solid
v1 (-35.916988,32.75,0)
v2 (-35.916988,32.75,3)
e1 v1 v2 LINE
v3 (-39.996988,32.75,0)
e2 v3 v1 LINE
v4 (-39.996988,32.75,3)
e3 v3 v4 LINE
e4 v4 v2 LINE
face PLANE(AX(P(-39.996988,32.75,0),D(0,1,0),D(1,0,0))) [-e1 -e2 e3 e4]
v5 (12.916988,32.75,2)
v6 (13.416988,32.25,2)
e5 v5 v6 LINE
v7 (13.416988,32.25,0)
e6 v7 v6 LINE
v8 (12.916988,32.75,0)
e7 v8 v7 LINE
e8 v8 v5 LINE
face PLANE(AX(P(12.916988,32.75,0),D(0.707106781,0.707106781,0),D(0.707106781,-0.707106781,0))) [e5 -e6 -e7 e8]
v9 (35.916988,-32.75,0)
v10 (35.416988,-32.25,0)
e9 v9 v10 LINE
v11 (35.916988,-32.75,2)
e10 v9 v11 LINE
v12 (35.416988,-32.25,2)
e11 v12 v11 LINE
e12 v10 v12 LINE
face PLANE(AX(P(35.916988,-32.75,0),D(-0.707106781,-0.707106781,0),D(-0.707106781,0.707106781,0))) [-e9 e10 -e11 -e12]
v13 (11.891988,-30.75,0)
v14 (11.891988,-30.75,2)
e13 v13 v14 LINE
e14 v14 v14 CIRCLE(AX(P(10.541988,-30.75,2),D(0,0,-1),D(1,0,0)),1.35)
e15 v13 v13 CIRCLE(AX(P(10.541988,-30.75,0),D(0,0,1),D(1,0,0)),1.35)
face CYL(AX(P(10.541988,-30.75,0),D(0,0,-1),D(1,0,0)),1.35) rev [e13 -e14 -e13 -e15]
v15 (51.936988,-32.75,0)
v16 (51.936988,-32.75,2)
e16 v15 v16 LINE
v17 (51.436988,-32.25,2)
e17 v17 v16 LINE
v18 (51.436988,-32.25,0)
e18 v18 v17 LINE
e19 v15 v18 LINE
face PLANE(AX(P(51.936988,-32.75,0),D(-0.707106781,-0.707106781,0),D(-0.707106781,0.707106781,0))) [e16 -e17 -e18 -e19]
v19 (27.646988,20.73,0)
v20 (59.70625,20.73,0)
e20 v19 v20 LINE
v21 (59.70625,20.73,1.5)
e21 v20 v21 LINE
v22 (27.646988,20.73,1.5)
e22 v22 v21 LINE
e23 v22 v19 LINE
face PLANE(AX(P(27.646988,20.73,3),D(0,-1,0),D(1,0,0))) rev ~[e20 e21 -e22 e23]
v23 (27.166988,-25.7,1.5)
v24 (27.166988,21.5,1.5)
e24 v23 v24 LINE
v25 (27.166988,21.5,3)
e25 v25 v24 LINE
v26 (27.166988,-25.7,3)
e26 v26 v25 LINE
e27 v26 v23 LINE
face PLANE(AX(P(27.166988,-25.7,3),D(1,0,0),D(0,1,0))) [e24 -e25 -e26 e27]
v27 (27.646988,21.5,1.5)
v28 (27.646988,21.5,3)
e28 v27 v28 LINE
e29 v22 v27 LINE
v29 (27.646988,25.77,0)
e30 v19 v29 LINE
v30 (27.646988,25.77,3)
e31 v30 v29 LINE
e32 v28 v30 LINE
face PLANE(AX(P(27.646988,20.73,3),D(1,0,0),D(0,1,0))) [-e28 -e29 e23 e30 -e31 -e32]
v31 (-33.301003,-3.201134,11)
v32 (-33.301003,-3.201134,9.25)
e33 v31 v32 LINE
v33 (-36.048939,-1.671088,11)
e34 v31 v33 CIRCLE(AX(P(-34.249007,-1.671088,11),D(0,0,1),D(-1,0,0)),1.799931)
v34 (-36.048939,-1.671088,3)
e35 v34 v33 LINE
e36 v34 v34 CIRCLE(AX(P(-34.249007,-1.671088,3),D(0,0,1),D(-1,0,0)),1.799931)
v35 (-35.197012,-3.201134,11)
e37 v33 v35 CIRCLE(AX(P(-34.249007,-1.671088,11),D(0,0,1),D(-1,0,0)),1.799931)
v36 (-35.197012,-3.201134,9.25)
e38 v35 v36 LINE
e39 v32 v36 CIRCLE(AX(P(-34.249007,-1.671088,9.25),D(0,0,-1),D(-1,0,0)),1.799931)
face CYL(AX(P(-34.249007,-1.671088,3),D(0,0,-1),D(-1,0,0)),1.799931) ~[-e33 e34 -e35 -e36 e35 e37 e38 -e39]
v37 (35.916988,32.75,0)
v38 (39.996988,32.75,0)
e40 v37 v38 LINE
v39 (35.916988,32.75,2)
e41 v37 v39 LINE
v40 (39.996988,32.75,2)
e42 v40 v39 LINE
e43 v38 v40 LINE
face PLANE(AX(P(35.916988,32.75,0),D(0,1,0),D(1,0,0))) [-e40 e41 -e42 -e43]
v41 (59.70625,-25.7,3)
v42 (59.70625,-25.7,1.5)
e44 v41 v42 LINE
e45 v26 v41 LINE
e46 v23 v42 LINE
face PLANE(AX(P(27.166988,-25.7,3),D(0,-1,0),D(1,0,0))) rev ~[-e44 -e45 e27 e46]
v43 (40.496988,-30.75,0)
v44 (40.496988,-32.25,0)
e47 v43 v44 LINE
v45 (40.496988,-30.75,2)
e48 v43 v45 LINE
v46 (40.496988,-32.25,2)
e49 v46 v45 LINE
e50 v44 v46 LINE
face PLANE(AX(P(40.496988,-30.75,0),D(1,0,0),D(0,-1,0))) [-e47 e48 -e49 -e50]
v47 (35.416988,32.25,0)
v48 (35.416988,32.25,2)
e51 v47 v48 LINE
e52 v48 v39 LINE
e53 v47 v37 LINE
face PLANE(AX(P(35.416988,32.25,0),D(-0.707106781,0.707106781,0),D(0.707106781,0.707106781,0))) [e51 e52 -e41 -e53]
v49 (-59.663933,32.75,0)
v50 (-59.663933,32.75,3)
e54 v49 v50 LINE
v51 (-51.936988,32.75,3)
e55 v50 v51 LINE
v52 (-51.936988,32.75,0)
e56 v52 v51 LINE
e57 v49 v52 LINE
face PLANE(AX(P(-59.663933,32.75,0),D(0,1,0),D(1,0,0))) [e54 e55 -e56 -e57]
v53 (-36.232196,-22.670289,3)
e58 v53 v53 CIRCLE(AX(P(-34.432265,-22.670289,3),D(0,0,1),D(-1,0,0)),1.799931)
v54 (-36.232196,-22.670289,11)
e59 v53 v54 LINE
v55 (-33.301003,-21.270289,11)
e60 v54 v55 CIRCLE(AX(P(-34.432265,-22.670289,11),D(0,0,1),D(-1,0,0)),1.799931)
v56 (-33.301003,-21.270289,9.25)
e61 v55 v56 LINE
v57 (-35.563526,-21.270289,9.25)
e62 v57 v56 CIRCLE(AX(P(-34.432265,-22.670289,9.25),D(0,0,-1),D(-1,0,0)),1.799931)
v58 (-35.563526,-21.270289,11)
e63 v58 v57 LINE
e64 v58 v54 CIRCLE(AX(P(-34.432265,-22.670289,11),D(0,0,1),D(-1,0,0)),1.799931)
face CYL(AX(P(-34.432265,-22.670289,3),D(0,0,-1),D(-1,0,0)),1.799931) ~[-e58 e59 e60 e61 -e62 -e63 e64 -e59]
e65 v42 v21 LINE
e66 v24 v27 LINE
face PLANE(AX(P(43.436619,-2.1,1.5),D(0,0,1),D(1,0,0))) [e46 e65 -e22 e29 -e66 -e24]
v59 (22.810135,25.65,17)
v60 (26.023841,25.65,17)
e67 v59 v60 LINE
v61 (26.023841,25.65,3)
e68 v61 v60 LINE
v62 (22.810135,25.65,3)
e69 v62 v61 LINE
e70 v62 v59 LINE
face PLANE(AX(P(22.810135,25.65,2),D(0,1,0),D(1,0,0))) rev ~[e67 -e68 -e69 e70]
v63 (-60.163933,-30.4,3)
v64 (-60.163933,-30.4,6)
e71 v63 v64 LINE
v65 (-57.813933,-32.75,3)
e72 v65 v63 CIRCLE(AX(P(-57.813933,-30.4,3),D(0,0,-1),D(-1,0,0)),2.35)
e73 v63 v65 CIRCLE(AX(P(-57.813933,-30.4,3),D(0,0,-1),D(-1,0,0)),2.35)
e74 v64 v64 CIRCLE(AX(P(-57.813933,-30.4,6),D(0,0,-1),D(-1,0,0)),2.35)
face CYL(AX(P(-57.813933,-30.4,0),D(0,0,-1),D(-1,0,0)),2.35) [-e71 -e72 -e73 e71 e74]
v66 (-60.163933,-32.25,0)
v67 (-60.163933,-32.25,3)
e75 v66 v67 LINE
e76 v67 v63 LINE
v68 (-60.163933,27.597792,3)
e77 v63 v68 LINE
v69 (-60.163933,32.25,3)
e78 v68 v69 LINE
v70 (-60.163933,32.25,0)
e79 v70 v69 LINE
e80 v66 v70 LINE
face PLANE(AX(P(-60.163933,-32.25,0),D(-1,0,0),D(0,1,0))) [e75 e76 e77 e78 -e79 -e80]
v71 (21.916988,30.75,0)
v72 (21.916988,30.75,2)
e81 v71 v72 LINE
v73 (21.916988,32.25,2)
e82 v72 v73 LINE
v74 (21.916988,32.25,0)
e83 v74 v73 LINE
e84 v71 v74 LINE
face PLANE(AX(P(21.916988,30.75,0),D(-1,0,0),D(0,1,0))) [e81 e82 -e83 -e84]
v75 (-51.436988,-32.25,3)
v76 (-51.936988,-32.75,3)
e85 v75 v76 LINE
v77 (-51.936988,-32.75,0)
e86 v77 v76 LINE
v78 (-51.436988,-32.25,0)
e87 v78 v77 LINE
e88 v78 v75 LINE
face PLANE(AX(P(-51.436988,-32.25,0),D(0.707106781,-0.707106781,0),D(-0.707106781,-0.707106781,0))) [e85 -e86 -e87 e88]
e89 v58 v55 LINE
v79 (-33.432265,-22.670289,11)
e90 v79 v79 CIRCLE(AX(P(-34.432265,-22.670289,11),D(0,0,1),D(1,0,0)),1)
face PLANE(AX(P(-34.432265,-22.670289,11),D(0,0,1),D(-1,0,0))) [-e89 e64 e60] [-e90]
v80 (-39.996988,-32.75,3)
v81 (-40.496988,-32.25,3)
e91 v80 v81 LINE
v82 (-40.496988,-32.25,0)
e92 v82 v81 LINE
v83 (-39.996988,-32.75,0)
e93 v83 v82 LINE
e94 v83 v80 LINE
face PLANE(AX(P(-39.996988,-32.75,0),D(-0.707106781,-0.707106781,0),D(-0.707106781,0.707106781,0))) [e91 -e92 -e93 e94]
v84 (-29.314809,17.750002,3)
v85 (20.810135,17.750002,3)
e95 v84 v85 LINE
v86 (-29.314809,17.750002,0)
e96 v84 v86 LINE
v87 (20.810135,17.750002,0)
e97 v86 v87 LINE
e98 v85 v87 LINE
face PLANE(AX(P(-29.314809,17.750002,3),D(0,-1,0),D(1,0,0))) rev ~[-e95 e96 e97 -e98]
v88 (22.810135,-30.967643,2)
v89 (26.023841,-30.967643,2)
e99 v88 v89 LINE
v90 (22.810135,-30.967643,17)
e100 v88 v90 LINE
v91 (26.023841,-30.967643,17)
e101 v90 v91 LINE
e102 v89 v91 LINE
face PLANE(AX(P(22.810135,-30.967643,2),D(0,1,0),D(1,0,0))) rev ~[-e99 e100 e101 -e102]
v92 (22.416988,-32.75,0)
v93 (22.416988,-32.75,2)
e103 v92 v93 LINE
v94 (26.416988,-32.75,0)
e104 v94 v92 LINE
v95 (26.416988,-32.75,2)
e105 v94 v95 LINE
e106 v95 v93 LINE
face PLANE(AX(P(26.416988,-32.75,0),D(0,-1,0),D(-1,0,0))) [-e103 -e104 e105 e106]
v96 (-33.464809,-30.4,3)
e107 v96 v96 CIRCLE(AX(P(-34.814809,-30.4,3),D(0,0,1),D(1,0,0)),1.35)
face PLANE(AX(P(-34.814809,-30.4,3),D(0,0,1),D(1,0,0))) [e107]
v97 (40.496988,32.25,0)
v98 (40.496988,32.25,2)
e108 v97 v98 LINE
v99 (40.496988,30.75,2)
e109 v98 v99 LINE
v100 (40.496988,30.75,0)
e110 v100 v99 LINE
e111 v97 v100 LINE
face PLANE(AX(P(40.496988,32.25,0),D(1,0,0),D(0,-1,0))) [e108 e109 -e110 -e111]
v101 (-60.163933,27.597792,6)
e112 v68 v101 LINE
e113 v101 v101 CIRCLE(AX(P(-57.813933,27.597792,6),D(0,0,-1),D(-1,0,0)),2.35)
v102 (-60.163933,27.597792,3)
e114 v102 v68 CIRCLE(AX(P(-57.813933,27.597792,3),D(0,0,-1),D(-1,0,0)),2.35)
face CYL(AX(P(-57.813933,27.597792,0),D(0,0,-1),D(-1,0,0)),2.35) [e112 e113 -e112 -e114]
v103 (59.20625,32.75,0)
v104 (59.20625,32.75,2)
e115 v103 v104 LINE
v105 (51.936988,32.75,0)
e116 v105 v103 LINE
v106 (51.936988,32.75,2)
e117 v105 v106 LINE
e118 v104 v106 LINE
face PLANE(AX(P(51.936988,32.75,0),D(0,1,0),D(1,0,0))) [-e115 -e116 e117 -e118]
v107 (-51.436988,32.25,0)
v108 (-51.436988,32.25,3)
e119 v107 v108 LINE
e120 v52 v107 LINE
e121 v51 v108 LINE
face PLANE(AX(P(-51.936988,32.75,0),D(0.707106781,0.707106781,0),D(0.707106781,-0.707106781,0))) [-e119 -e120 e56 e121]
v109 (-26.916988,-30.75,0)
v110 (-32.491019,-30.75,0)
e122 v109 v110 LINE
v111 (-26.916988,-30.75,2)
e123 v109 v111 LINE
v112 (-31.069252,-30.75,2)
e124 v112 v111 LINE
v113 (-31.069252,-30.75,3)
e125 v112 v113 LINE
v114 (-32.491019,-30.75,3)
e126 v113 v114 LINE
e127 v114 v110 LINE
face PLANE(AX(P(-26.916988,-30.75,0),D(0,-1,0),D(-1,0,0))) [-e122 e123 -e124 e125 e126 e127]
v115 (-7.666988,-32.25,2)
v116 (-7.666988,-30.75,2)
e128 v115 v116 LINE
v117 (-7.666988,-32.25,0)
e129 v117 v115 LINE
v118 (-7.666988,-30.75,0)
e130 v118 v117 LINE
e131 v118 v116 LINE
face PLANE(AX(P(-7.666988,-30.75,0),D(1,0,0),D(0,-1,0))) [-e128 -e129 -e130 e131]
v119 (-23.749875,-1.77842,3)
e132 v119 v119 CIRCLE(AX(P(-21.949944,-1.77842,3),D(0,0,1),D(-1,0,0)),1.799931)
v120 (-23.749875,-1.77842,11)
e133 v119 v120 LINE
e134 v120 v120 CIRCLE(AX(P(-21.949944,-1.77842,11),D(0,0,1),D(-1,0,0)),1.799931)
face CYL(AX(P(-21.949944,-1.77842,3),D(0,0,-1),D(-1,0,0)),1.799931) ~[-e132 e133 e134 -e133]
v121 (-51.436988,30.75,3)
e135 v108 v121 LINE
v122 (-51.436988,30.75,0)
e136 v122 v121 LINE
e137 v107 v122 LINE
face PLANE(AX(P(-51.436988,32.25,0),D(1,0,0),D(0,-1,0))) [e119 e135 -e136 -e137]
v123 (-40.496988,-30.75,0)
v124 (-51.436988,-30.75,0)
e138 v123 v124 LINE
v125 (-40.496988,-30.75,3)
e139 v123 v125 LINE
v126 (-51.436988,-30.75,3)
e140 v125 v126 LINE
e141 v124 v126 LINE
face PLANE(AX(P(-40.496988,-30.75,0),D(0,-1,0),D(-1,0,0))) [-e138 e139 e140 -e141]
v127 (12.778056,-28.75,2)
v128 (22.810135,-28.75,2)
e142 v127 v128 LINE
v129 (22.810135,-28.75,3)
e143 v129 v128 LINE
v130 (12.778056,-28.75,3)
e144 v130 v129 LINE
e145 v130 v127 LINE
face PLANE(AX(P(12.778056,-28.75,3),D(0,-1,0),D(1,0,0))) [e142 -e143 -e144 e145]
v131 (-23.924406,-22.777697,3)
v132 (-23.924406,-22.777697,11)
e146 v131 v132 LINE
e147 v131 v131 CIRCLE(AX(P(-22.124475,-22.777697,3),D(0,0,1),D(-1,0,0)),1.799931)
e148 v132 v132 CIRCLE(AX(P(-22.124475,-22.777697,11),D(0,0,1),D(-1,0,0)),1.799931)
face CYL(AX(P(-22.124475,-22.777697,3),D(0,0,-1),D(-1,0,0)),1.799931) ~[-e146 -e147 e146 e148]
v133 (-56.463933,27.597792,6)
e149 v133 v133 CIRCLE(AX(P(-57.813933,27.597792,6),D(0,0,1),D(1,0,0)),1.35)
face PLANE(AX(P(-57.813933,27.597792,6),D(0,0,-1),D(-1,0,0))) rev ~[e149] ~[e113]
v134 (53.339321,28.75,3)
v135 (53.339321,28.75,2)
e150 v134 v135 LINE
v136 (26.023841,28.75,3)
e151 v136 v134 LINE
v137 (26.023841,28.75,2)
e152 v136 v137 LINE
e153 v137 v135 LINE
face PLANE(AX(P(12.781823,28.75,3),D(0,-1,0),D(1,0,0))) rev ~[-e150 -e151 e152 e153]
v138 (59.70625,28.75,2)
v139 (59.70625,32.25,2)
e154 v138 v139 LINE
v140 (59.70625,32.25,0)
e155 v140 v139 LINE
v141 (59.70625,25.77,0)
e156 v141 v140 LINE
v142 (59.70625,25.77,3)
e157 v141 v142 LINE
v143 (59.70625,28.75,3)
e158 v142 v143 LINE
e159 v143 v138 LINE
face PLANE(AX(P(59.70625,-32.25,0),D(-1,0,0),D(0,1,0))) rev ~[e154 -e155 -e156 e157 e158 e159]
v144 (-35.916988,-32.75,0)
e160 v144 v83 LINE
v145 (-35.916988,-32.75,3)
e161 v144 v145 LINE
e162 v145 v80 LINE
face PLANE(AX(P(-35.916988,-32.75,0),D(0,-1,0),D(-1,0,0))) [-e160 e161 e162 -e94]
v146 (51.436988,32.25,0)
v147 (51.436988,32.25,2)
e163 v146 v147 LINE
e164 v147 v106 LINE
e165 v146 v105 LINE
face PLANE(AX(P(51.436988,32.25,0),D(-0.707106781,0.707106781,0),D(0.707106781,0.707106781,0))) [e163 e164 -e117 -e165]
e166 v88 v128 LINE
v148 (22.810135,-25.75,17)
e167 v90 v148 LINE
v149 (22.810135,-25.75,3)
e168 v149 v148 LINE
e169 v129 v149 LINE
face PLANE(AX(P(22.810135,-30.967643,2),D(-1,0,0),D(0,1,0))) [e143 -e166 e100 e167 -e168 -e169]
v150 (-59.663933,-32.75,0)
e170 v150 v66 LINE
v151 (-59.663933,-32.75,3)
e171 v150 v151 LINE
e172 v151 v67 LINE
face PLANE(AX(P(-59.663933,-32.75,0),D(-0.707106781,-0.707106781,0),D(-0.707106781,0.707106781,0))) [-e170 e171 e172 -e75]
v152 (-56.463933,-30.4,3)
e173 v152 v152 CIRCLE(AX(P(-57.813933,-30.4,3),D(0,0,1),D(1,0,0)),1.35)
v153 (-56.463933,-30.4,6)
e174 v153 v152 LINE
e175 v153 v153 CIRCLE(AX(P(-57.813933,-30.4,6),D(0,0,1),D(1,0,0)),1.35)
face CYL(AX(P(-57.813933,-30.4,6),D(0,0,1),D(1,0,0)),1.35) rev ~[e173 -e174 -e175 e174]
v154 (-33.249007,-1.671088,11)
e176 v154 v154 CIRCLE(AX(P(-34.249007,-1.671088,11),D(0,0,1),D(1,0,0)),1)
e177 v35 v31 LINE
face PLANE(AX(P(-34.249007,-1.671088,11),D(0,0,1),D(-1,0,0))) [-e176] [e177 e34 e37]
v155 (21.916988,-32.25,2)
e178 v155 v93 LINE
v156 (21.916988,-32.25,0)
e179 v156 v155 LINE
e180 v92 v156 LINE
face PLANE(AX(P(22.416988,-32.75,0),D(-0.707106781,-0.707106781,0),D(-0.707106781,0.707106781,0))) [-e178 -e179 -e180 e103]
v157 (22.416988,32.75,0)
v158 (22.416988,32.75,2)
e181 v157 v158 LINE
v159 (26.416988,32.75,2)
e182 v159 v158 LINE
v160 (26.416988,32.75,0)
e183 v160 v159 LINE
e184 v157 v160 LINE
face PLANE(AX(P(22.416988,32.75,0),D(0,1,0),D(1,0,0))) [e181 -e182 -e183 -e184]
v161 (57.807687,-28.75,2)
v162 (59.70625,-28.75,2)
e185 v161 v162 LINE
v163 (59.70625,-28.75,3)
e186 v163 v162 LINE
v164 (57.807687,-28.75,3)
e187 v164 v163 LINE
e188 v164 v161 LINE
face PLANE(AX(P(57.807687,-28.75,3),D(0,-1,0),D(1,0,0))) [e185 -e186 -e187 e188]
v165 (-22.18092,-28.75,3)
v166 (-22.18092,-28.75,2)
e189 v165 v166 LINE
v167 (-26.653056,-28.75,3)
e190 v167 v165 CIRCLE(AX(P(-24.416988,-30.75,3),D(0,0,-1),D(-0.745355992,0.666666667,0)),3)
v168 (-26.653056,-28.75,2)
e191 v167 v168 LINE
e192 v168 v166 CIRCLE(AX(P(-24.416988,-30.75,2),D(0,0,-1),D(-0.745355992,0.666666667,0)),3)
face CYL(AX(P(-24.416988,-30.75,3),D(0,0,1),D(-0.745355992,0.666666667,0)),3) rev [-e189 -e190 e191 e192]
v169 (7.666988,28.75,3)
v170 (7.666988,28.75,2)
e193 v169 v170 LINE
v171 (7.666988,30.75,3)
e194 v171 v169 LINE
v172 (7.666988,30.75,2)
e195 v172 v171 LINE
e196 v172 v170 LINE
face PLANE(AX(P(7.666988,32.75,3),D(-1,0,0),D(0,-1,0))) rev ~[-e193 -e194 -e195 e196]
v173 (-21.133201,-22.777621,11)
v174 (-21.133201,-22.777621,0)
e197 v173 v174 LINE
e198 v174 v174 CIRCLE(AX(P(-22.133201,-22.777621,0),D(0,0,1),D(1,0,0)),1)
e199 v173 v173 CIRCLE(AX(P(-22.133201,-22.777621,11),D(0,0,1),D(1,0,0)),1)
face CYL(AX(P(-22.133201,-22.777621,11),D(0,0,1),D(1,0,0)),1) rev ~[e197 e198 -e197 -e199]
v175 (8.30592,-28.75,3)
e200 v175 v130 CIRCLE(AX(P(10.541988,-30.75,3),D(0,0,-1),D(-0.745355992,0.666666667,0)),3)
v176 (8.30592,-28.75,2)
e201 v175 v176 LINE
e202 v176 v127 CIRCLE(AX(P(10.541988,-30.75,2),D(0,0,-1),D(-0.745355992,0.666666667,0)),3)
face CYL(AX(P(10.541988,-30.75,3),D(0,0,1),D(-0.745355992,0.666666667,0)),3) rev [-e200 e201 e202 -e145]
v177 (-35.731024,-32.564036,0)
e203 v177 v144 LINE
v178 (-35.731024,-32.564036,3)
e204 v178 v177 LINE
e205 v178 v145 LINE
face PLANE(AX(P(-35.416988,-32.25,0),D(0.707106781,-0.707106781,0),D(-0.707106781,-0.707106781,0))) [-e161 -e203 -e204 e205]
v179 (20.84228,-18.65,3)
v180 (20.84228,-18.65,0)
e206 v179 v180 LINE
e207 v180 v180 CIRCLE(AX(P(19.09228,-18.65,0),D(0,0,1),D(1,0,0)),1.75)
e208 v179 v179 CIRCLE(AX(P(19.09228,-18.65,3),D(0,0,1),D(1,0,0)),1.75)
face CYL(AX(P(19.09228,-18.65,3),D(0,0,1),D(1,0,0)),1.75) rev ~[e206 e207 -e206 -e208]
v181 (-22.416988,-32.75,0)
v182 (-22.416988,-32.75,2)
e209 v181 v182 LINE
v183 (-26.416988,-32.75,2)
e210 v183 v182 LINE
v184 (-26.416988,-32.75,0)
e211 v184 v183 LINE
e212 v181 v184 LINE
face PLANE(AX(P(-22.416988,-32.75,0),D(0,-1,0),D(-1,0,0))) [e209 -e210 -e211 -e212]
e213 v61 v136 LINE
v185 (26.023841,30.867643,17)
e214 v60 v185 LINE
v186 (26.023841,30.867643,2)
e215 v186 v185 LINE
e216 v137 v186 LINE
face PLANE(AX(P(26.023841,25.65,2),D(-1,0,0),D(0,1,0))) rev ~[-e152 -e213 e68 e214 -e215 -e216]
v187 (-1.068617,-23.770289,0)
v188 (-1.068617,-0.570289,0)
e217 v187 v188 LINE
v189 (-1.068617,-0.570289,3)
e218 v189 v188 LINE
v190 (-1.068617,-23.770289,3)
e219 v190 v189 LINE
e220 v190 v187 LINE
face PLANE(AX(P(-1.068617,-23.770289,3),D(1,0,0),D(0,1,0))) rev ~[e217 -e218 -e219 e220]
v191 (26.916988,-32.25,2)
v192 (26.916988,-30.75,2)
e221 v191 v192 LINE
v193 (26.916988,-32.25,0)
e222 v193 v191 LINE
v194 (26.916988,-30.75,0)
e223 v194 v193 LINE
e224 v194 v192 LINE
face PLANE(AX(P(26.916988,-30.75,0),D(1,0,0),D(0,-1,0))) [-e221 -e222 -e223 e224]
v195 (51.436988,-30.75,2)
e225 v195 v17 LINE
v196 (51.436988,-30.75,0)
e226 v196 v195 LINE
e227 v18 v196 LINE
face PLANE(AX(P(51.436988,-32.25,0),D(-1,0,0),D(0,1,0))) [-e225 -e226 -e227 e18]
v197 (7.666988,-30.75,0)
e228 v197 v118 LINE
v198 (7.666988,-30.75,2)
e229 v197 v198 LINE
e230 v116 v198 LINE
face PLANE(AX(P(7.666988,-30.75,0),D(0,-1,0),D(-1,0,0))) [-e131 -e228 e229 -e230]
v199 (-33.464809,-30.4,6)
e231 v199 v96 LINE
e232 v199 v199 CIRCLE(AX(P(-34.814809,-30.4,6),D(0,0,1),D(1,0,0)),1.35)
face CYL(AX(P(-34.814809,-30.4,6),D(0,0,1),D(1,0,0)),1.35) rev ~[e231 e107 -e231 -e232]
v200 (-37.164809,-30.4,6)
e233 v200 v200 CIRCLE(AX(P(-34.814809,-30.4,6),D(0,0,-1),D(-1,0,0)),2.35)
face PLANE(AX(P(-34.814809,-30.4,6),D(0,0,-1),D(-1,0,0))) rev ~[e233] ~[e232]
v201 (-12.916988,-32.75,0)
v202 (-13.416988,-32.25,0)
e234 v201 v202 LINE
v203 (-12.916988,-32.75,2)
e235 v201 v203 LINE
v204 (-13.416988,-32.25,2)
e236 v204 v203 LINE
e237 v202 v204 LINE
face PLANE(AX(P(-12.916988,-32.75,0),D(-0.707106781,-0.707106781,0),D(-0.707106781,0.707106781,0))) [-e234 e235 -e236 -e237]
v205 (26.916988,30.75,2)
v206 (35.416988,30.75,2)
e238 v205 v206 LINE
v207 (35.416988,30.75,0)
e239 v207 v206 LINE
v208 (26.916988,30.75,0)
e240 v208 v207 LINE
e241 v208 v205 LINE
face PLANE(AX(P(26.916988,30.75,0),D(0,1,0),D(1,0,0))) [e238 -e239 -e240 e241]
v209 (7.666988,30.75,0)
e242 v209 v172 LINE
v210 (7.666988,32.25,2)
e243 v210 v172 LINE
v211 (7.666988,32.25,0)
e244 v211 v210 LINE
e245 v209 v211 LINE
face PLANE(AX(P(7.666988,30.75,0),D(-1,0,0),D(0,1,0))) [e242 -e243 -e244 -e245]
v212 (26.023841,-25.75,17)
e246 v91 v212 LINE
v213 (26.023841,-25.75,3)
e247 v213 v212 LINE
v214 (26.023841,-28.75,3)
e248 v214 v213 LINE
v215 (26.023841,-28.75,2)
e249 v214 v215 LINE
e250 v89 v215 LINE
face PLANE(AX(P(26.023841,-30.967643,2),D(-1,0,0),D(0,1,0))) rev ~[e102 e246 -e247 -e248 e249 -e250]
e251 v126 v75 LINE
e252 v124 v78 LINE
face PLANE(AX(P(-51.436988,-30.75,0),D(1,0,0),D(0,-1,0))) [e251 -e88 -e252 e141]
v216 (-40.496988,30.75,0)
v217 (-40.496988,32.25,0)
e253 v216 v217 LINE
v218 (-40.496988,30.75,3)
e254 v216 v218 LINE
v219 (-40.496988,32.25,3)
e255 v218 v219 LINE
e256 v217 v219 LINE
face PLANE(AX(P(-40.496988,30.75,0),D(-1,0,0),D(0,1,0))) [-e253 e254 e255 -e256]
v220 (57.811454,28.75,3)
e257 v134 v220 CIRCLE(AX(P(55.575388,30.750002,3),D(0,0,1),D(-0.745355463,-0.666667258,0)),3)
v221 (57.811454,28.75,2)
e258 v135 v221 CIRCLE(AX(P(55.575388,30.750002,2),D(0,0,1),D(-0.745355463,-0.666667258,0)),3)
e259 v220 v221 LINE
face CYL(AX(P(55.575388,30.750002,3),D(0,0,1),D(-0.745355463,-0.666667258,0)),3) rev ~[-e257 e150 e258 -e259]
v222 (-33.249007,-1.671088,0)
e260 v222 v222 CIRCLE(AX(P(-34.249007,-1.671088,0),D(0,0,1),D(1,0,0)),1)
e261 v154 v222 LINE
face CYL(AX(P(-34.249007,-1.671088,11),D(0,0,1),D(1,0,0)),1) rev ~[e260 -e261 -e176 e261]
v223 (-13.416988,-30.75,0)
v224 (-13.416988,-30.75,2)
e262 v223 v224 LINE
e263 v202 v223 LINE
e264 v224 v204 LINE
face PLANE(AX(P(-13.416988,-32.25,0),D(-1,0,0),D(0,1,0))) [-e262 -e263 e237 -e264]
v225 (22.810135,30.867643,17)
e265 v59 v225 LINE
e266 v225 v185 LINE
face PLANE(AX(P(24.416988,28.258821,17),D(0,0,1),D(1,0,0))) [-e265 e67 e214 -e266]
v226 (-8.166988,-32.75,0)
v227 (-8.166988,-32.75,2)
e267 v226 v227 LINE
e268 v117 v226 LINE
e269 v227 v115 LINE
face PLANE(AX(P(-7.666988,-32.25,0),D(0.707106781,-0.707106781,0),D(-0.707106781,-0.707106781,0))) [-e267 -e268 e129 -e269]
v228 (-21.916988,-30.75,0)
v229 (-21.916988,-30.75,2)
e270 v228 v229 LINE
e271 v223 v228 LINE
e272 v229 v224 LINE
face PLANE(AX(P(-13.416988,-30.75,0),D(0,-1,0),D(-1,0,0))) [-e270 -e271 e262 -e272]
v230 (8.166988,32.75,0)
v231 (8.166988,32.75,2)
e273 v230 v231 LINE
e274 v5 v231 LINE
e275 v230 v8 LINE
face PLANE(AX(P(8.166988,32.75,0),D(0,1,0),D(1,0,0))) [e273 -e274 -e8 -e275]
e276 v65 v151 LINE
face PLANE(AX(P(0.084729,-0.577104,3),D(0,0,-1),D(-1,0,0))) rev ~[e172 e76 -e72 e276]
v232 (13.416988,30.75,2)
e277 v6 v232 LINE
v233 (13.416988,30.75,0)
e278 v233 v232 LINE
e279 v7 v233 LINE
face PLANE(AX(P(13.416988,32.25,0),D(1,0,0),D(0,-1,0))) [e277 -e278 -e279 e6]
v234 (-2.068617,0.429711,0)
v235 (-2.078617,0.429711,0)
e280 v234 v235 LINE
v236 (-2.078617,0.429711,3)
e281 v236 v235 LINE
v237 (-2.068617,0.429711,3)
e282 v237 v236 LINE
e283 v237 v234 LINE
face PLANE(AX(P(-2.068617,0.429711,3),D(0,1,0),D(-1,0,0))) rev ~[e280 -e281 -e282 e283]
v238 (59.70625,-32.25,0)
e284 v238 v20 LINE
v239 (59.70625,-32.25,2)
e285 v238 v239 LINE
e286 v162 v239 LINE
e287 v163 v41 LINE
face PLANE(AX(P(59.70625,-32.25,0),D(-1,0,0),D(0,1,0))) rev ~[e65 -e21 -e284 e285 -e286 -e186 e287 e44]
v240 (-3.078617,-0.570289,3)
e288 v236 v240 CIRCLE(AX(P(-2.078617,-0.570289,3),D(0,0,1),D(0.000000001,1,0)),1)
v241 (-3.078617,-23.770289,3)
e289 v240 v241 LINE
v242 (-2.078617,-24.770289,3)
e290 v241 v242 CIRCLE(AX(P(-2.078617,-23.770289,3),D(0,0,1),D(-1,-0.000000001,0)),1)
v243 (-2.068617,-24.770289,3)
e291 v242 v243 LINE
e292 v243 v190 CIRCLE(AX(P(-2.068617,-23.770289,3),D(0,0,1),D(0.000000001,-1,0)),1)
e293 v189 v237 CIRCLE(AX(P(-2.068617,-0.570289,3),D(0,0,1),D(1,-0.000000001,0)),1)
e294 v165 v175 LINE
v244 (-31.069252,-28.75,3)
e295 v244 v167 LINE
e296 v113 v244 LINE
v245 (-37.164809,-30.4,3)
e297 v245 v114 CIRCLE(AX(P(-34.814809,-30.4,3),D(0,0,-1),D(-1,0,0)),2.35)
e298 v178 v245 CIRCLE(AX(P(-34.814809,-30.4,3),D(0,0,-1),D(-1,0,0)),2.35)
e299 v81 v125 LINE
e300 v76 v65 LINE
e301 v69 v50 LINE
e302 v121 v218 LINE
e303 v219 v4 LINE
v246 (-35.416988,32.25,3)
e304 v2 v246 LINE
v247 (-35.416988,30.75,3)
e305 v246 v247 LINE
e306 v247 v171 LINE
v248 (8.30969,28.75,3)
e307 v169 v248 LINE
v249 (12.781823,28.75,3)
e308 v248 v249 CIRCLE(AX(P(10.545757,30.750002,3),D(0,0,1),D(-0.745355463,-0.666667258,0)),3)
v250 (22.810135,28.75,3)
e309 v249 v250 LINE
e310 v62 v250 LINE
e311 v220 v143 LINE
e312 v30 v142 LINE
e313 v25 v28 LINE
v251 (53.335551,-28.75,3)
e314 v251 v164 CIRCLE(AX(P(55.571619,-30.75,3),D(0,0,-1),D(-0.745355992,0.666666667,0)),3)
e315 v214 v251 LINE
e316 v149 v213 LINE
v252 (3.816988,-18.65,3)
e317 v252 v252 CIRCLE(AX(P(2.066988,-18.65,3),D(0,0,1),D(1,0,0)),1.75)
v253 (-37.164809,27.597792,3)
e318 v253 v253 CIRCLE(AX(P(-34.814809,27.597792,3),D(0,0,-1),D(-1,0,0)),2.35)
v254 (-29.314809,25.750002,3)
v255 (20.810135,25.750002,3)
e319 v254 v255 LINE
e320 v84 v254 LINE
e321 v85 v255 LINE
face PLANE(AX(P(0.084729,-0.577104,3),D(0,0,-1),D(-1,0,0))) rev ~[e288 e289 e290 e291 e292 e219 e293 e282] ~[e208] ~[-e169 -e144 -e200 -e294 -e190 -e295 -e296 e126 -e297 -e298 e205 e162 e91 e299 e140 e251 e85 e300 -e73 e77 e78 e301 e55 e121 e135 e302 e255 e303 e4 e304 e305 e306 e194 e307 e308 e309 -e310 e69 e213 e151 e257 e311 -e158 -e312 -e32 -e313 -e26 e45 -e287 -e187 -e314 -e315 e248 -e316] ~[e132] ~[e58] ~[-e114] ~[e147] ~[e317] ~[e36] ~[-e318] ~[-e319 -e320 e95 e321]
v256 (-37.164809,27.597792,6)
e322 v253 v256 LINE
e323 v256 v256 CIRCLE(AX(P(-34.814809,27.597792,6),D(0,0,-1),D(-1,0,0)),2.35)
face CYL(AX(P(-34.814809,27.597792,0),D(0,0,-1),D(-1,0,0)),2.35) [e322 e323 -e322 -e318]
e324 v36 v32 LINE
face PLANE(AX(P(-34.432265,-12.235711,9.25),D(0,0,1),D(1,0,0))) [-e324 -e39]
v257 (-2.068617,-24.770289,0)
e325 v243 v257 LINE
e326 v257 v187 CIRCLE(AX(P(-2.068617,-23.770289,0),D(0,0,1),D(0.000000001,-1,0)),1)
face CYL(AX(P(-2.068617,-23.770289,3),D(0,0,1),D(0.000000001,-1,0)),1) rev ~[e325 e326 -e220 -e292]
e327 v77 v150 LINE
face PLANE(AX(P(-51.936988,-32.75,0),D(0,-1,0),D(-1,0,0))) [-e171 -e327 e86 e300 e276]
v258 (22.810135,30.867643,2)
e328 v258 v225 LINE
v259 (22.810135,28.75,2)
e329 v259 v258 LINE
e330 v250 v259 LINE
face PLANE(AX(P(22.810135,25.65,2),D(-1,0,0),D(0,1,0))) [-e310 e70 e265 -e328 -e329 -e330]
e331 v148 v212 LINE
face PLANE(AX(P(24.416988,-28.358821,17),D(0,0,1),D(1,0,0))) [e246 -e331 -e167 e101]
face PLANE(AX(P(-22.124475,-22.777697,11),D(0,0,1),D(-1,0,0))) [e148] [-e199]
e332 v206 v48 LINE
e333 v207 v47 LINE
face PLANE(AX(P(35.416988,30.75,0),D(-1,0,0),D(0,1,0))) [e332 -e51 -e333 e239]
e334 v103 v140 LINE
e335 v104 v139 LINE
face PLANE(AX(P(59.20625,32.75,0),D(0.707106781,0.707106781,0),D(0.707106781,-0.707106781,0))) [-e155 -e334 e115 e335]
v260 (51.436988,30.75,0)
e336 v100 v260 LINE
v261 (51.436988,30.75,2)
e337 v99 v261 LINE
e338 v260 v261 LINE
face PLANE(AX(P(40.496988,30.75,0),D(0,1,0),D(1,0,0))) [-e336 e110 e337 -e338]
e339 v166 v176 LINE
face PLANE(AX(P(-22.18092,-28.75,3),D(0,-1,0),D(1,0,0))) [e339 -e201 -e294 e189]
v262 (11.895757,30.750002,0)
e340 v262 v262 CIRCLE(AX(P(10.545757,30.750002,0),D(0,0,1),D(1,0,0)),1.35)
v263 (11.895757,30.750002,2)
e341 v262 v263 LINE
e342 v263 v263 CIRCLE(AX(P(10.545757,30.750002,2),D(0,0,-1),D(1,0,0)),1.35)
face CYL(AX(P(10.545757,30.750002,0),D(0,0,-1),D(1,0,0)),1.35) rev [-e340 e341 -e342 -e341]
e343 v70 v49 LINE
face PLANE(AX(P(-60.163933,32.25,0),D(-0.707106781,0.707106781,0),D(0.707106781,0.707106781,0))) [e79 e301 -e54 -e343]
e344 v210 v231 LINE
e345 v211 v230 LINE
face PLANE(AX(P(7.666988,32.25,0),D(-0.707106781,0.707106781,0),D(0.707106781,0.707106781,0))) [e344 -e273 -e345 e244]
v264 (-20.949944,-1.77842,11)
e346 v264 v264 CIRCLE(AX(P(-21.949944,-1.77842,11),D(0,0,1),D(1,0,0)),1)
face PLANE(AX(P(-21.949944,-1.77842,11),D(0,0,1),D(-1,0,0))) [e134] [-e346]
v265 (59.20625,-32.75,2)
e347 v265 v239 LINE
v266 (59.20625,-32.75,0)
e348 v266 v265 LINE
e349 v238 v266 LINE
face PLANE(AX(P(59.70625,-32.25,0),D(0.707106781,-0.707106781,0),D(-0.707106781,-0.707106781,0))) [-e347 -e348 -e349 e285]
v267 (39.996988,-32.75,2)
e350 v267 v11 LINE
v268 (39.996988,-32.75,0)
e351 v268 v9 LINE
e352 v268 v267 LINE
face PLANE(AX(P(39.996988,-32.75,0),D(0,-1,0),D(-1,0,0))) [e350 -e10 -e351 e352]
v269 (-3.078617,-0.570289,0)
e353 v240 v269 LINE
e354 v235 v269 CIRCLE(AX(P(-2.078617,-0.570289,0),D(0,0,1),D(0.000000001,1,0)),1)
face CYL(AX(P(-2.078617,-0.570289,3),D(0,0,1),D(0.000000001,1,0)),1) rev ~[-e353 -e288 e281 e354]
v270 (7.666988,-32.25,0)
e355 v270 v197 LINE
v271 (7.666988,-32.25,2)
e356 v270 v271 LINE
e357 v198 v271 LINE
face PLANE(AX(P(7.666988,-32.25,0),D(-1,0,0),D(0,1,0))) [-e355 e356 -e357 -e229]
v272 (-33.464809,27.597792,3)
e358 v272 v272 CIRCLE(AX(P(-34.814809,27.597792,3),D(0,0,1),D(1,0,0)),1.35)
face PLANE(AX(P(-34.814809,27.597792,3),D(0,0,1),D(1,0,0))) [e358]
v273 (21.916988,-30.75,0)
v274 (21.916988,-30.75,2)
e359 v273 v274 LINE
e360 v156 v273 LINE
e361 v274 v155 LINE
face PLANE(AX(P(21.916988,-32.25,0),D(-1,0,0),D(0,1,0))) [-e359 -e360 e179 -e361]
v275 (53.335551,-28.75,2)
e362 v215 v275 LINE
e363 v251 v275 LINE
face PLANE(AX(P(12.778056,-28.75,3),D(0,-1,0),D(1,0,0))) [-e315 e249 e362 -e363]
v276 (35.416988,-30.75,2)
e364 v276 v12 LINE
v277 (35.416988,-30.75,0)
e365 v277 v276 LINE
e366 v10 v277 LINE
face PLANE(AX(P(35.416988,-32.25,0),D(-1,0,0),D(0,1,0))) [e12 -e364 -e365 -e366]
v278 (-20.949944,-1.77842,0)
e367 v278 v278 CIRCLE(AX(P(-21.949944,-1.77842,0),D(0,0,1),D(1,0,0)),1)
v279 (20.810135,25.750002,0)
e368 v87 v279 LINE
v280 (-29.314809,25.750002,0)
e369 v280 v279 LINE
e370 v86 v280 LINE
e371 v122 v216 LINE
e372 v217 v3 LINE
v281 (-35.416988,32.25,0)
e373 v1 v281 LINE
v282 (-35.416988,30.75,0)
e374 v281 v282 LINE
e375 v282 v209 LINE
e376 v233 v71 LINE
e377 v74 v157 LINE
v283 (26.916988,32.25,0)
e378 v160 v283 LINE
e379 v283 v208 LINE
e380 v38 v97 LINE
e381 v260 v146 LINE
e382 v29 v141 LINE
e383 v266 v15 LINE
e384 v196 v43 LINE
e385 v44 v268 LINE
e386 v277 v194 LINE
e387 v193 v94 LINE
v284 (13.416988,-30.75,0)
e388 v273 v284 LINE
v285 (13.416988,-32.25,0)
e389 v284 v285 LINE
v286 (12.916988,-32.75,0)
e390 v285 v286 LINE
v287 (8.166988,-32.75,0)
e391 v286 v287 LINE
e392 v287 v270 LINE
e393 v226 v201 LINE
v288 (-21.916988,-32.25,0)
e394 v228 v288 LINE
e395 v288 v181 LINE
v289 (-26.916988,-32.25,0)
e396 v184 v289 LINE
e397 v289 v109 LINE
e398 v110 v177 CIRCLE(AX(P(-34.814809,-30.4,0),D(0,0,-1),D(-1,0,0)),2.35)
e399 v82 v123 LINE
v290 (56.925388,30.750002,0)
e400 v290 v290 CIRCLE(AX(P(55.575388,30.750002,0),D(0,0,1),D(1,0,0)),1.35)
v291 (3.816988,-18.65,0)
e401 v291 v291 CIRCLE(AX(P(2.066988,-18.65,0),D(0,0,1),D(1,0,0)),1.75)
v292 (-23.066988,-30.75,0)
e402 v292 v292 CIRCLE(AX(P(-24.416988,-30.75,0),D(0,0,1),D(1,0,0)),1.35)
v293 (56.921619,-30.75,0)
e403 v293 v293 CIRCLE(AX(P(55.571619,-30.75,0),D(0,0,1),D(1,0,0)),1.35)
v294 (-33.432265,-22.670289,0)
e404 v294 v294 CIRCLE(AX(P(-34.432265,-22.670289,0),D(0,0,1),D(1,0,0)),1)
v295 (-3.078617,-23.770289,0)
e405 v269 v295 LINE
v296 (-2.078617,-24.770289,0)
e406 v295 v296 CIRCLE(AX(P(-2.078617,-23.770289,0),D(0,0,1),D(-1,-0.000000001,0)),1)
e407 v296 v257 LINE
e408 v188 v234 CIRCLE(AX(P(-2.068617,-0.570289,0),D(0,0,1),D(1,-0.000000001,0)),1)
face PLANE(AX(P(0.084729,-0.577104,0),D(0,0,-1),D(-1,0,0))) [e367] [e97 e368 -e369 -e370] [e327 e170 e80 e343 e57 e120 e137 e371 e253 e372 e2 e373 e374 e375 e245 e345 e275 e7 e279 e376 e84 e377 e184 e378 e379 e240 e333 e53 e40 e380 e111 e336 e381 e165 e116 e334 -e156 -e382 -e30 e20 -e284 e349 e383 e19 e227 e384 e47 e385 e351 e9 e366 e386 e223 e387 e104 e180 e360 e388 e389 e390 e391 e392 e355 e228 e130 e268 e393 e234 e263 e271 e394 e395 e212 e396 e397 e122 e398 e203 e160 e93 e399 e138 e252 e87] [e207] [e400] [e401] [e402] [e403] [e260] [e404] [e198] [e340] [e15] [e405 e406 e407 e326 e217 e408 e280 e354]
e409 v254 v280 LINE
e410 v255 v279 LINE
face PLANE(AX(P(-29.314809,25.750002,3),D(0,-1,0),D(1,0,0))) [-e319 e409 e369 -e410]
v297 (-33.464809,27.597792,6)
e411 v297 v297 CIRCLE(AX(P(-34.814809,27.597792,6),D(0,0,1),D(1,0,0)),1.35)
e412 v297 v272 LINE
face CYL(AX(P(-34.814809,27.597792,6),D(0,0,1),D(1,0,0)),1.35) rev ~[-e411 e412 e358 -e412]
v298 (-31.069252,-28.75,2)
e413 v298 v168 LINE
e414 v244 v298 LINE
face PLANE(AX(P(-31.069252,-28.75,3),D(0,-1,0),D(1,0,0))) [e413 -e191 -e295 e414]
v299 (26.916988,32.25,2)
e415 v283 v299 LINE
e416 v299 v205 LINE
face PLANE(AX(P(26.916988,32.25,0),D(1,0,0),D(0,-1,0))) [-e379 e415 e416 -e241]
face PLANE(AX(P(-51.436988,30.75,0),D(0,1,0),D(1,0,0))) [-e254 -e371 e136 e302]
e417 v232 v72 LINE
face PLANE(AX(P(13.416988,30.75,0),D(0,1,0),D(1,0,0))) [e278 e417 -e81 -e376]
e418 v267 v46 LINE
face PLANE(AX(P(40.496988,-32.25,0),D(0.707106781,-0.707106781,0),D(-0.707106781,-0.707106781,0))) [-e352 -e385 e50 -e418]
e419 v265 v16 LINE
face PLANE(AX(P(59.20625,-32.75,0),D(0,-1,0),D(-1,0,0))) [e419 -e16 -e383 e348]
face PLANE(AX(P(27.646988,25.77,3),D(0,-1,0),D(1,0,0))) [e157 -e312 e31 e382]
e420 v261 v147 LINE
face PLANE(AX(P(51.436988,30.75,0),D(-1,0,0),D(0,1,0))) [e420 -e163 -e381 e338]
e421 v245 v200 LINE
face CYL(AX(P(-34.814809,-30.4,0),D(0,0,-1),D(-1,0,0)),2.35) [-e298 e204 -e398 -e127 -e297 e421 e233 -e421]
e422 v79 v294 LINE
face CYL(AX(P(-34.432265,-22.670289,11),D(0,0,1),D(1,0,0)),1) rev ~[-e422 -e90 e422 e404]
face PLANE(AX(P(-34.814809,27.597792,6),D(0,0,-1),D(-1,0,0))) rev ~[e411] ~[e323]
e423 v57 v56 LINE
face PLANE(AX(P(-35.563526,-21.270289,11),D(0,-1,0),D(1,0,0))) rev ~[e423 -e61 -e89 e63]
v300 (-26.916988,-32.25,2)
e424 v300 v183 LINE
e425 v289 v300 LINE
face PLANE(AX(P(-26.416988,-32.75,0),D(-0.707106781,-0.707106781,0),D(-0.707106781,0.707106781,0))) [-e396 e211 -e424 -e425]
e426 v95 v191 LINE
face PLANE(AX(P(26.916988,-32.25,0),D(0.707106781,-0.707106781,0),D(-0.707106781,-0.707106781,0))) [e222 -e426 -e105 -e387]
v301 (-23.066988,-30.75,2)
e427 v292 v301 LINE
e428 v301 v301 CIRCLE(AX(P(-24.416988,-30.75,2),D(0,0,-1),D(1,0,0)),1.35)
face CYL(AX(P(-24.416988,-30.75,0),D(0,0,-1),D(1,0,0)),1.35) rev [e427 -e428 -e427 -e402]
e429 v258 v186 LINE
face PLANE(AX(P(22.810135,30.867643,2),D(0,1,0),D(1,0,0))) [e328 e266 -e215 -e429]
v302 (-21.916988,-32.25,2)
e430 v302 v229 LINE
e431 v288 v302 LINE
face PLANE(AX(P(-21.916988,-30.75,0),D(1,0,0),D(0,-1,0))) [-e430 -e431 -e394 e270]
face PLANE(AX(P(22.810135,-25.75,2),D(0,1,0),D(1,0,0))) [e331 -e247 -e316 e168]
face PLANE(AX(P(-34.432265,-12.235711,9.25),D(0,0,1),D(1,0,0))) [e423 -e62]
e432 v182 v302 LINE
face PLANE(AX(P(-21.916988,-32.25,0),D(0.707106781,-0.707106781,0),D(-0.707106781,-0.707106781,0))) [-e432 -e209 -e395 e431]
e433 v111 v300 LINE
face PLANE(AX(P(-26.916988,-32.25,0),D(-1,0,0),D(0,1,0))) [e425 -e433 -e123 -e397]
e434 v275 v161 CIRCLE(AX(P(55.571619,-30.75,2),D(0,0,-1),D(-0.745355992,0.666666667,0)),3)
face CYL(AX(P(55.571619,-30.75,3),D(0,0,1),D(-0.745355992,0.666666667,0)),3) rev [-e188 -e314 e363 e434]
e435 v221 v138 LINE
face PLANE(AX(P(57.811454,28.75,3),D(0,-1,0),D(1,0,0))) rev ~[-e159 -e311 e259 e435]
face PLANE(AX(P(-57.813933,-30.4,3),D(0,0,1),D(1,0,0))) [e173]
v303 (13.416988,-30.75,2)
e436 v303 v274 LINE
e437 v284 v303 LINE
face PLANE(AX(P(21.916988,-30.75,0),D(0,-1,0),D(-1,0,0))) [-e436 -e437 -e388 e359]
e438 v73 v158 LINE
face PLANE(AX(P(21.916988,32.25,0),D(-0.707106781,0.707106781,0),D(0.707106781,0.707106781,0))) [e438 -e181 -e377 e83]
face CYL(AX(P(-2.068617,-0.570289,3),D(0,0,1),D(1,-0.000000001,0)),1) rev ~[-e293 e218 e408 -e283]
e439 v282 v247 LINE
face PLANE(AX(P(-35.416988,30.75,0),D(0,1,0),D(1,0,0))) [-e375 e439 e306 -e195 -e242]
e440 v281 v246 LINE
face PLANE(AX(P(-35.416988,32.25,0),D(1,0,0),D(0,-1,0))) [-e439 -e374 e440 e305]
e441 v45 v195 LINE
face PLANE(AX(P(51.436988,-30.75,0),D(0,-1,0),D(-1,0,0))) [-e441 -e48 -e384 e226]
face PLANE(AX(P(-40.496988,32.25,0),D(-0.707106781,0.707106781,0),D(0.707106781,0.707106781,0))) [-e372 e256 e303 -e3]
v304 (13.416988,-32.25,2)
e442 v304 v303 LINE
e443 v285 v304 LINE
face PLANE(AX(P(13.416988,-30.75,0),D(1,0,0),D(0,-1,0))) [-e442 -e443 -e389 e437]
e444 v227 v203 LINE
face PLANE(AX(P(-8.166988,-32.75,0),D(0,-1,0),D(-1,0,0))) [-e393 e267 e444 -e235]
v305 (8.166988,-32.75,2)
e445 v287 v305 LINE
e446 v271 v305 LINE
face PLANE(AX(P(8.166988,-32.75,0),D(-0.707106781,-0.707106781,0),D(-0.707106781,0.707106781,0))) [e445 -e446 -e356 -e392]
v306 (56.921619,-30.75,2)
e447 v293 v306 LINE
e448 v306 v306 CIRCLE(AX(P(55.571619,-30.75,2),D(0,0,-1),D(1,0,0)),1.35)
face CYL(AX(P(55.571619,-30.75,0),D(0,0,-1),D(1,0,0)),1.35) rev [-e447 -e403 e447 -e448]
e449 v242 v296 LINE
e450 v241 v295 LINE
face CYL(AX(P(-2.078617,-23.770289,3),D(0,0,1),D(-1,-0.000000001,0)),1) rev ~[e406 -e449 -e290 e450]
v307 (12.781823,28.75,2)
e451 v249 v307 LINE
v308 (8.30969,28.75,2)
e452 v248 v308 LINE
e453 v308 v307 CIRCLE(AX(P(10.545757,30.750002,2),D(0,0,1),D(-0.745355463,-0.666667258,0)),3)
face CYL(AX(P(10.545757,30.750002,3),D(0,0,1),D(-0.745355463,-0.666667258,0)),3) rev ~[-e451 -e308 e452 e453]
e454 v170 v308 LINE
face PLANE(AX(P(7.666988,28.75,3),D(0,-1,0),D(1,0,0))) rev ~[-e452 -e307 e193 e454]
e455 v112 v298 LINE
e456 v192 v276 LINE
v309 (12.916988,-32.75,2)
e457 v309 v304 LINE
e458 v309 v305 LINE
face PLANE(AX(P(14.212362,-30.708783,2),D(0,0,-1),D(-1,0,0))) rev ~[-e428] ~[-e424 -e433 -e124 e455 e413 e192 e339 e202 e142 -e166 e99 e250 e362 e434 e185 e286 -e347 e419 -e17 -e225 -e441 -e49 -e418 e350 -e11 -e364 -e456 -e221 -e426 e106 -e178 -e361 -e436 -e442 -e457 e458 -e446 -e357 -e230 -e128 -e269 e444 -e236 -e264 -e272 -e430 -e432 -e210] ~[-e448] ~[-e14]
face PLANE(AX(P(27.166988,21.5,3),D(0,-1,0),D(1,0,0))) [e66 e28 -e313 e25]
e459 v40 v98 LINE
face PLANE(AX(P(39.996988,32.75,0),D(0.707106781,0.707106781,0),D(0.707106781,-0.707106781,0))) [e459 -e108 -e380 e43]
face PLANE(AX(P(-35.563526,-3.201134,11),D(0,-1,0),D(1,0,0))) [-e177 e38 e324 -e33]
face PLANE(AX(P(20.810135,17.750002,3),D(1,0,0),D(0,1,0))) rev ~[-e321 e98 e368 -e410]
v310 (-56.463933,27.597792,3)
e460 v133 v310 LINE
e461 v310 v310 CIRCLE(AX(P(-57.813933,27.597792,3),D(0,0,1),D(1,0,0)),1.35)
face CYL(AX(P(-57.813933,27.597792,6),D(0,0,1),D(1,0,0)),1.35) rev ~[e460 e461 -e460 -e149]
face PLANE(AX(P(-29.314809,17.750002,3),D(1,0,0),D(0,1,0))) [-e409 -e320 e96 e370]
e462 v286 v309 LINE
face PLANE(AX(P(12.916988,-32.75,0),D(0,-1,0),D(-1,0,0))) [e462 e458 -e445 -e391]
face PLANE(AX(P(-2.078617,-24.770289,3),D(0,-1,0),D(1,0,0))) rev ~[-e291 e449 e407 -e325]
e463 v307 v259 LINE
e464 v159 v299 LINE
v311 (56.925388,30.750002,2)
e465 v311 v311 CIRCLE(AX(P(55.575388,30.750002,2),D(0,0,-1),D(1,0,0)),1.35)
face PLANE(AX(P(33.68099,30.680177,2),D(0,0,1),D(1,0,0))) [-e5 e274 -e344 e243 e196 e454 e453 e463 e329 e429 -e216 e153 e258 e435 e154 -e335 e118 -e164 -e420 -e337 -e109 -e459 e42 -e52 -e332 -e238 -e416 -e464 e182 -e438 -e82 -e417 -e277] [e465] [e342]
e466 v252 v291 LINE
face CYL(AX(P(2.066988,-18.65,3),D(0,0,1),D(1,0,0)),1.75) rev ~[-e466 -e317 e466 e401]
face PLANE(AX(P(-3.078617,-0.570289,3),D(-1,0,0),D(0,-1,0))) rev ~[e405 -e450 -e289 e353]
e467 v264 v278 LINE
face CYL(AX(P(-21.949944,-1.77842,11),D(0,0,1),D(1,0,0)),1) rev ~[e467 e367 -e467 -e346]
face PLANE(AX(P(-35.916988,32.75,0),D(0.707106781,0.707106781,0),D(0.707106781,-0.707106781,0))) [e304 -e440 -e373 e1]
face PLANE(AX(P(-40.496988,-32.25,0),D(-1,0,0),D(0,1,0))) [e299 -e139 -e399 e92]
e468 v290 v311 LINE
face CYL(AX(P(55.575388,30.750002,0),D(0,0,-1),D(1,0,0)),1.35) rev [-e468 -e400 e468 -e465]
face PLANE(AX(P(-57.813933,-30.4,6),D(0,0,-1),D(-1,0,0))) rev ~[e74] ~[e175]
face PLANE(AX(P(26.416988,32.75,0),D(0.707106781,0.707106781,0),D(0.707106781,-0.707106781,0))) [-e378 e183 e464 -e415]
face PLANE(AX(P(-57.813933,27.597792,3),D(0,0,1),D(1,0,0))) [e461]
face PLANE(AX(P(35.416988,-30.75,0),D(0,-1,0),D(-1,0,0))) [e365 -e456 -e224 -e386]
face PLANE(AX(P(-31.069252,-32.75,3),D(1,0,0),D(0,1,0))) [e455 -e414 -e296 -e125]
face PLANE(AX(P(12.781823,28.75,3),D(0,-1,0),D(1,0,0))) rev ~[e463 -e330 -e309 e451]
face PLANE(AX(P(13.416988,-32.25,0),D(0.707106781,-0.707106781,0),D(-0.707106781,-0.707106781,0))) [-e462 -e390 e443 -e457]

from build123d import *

# Parameters (mm, degrees)
SKETCH1_R           = 1.35
BOSS_EXTRUDE1_DEPTH = 3
SKETCH2_W           = 32.539262004
SKETCH2_H           = 47.2
CUT_EXTRUDE1_DEPTH  = 1.5
CUT_EXTRUDE2_DEPTH  = 1
SKETCH4_W           = 39.18
SKETCH4_H           = 5.04
CUT_EXTRUDE3_DEPTH  = 3
BOSS_EXTRUDE3_START = -1
SKETCH5_W           = 3.213705867
SKETCH5_H           = 5.217642876
BOSS_EXTRUDE3_DEPTH = 15
SKETCH6_R           = 2.35
BOSS_EXTRUDE4_DEPTH = 6
SKETCH7_R           = 1.35
CUT_EXTRUDE4_DEPTH  = 3
SKETCH8_R           = 1.799931462
BOSS_EXTRUDE5_DEPTH = 8
SKETCH9_R           = 1
CUT_EXTRUDE5_DEPTH  = 11
CUT_EXTRUDE6_DEPTH  = 3
SKETCH11_W          = 50.12494376
SKETCH11_H          = 8
CUT_EXTRUDE7_DEPTH  = 3
SKETCH12_W          = 2.262523605
SKETCH12_H          = 18.069154429
CUT_EXTRUDE8_DEPTH  = 1.75
SKETCH13_R          = 1.75
CUT_EXTRUDE9_DEPTH  = 3


with BuildPart() as part:
    # Sketch1 → Boss-Extrude1 (new body)
    with BuildSketch(Plane.XY):
        Polygon((59.70625, -28.75), (59.70625, -32.25), (59.20625, -32.75), (51.936987996, -32.75), (51.436987996, -32.25), (51.436987996, -30.75), (40.496987996, -30.75), (40.496987996, -32.25), (39.996987996, -32.75), (35.916987996, -32.75), (35.416987996, -32.25), (35.416987996, -30.75), (26.916987996, -30.75), (26.916987996, -32.25), (26.416987996, -32.75), (22.416987996, -32.75), (21.916987996, -32.25), (21.916987996, -30.75), (13.416987996, -30.75), (13.416987996, -32.25), (12.916987996, -32.75), (8.166987996, -32.75), (7.666987996, -32.25), (7.666987996, -30.75), (-7.666987996, -30.75), (-7.666987996, -32.25), (-8.166987996, -32.75), (-12.916987996, -32.75), (-13.416987996, -32.25), (-13.416987996, -30.75), (-21.916987996, -30.75), (-21.916987996, -32.25), (-22.416987996, -32.75), (-26.416987996, -32.75), (-26.916987996, -32.25), (-26.916987996, -30.75), (-35.416987996, -30.75), (-35.416987996, -32.25), (-35.916987996, -32.75), (-39.996987996, -32.75), (-40.496987996, -32.25), (-40.496987996, -30.75), (-51.436987996, -30.75), (-51.436987996, -32.25), (-51.936987996, -32.75), (-59.663932929, -32.75), (-60.163932929, -32.25), (-60.163932929, 32.25), (-59.663932929, 32.75), (-51.936987996, 32.75), (-51.436987996, 32.25), (-51.436987996, 30.75), (-40.496987996, 30.75), (-40.496987996, 32.25), (-39.996987996, 32.75), (-35.916987996, 32.75), (-35.416987996, 32.25), (-35.416987996, 30.75), (7.666987996, 30.75), (7.666987996, 32.25), (8.166987996, 32.75), (12.916987996, 32.75), (13.416987996, 32.25), (13.416987996, 30.75), (21.916987996, 30.75), (21.916987996, 32.25), (22.416987996, 32.75), (26.416987996, 32.75), (26.916987996, 32.25), (26.916987996, 30.75), (35.416987996, 30.75), (35.416987996, 32.25), (35.916987996, 32.75), (39.996987996, 32.75), (40.496987996, 32.25), (40.496987996, 30.75), (51.436987996, 30.75), (51.436987996, 32.25), (51.936987996, 32.75), (59.20625, 32.75), (59.70625, 32.25), (59.70625, 28.75), align=None)
        with Locations((10.545756529, 30.750001775)):
            Circle(SKETCH1_R, mode=Mode.SUBTRACT)
        with Locations((55.575387531, 30.750001775)):
            Circle(SKETCH1_R, mode=Mode.SUBTRACT)
        with Locations((55.571618998, -30.75)):
            Circle(SKETCH1_R, mode=Mode.SUBTRACT)
        with Locations((10.541987996, -30.75)):
            Circle(SKETCH1_R, mode=Mode.SUBTRACT)
        with Locations((-24.416987996, -30.75)):
            Circle(SKETCH1_R, mode=Mode.SUBTRACT)
    extrude(amount=BOSS_EXTRUDE1_DEPTH)

    # Sketch2 → Cut-Extrude1 (cut)
    with BuildSketch(Plane.XY.offset(3)):
        with Locations((43.436618998, -2.1)):
            Rectangle(SKETCH2_W, SKETCH2_H)
    extrude(amount=-CUT_EXTRUDE1_DEPTH, mode=Mode.SUBTRACT)

    # Sketch3 → Cut-Extrude2 (cut)
    with BuildSketch(Plane.XY.offset(3)):
        with BuildLine():
            Line((7.666987996, 28.75), (8.309690139, 28.75))
            ThreePointArc((8.309690139, 28.75), (10.545756529, 27.750001775), (12.781822919, 28.75))
            Line((12.781822919, 28.75), (53.339321141, 28.75))
            ThreePointArc((53.339321141, 28.75), (55.575387531, 27.750001775), (57.811453921, 28.75))
            Line((57.811453921, 28.75), (59.70625, 28.75))
            Line((59.70625, 28.75), (59.70625, 32.75))
            Line((59.70625, 32.75), (7.666987996, 32.75))
            Line((7.666987996, 32.75), (7.666987996, 28.75))
        make_face()
        with BuildLine():
            Line((-31.069252348, -28.75), (-26.653055973, -28.75))
            ThreePointArc((-26.653055973, -28.75), (-24.416987996, -27.75), (-22.180920018, -28.75))
            Line((-22.180920018, -28.75), (8.305920018, -28.75))
            ThreePointArc((8.305920018, -28.75), (10.541987996, -27.75), (12.778055973, -28.75))
            Line((12.778055973, -28.75), (53.33555102, -28.75))
            ThreePointArc((53.33555102, -28.75), (55.571618998, -27.75), (57.807686975, -28.75))
            Line((57.807686975, -28.75), (59.70625, -28.75))
            Line((59.70625, -28.75), (59.70625, -32.75))
            Line((59.70625, -32.75), (-22.180920018, -32.75))
            ThreePointArc((-22.180920018, -32.75), (-24.416987996, -33.75), (-26.653055973, -32.75))
            Line((-26.653055973, -32.75), (-31.069252348, -32.75))
            Line((-31.069252348, -32.75), (-31.069252348, -28.75))
        make_face()
    extrude(amount=-CUT_EXTRUDE2_DEPTH, mode=Mode.SUBTRACT)

    # Sketch4 → Cut-Extrude3 (cut)
    with BuildSketch(Plane.XY.offset(3)):
        with Locations((47.236987996, 23.25)):
            Rectangle(SKETCH4_W, SKETCH4_H)
    extrude(amount=-CUT_EXTRUDE3_DEPTH, mode=Mode.SUBTRACT)

    # Sketch5 → Boss-Extrude3 (add)
    with BuildSketch(Plane.XY.offset(3).offset(BOSS_EXTRUDE3_START)):
        with Locations((24.416987996, -28.358821438)):
            Rectangle(SKETCH5_W, SKETCH5_H)
        with Locations((24.416987996, 28.258821438)):
            Rectangle(SKETCH5_W, SKETCH5_H)
    extrude(amount=BOSS_EXTRUDE3_DEPTH)

    # Sketch6 → Boss-Extrude4 (add)
    with BuildSketch(Plane(origin=(0, 0, 0), x_dir=(-1, 0, 0), z_dir=(0, 0, -1))):
        with Locations((57.813932929, -30.4)):
            Circle(SKETCH6_R)
        with Locations((34.814808698, -30.4)):
            Circle(SKETCH6_R)
        with Locations((34.814808698, 27.597791538)):
            Circle(SKETCH6_R)
        with Locations((57.813932929, 27.597791538)):
            Circle(SKETCH6_R)
    extrude(amount=-BOSS_EXTRUDE4_DEPTH)

    # Sketch7 → Cut-Extrude4 (cut)
    with BuildSketch(Plane.XY.offset(6)):
        with Locations((-57.813932929, 27.597791538)):
            Circle(SKETCH7_R)
        with Locations((-34.814808698, 27.597791538)):
            Circle(SKETCH7_R)
        with Locations((-34.814808698, -30.4)):
            Circle(SKETCH7_R)
        with Locations((-57.813932929, -30.4)):
            Circle(SKETCH7_R)
    extrude(amount=-CUT_EXTRUDE4_DEPTH, mode=Mode.SUBTRACT)

    # Sketch8 → Boss-Extrude5 (add)
    with BuildSketch(Plane.XY.offset(3)):
        with Locations(Location((-34.249007268, -1.671088179, 0), (0, 0, 180))):
            Circle(SKETCH8_R)
        with Locations(Location((-21.949943943, -1.778420479, 0), (0, 0, 180))):
            Circle(SKETCH8_R)
        with Locations(Location((-22.124474985, -22.777697016, 0), (0, 0, 180))):
            Circle(SKETCH8_R)
        with Locations(Location((-34.432264513, -22.670288564, 0), (0, 0, 180))):
            Circle(SKETCH8_R)
    extrude(amount=BOSS_EXTRUDE5_DEPTH)

    # Sketch9 → Cut-Extrude5 (cut)
    with BuildSketch(Plane.XY.offset(11)):
        with Locations((-34.432264513, -22.670288564)):
            Circle(SKETCH9_R)
        with Locations((-22.133201188, -22.777620863)):
            Circle(SKETCH9_R)
        with Locations((-34.249007268, -1.671088179)):
            Circle(SKETCH9_R)
        with Locations((-21.949943943, -1.778420479)):
            Circle(SKETCH9_R)
    extrude(amount=-CUT_EXTRUDE5_DEPTH, mode=Mode.SUBTRACT)

    # Sketch10 → Cut-Extrude6 (cut)
    with BuildSketch(Plane.XY.offset(3)):
        with BuildLine():
            Line((-2.078617038, -24.770288564), (-2.068617038, -24.770288564))
            ThreePointArc((-2.068617038, -24.770288564), (-1.361510257, -24.477395345), (-1.068617038, -23.770288564))
            Line((-1.068617038, -23.770288564), (-1.068617038, -0.570288564))
            ThreePointArc((-1.068617038, -0.570288564), (-1.361510257, 0.136818218), (-2.068617038, 0.429711436))
            Line((-2.068617038, 0.429711436), (-2.078617038, 0.429711436))
            ThreePointArc((-2.078617038, 0.429711436), (-2.785723819, 0.136818218), (-3.078617038, -0.570288564))
            Line((-3.078617038, -0.570288564), (-3.078617038, -23.770288564))
            ThreePointArc((-3.078617038, -23.770288564), (-2.785723819, -24.477395345), (-2.078617038, -24.770288564))
        make_face()
    extrude(amount=-CUT_EXTRUDE6_DEPTH, mode=Mode.SUBTRACT)

    # Sketch11 → Cut-Extrude7 (cut)
    with BuildSketch(Plane.XY.offset(3)):
        with Locations((-4.252336818, 21.750001775)):
            Rectangle(SKETCH11_W, SKETCH11_H)
    extrude(amount=-CUT_EXTRUDE7_DEPTH, mode=Mode.SUBTRACT)

    # Sketch12 → Cut-Extrude8 (cut)
    with BuildSketch(Plane.XY.offset(11)):
        with Locations((-34.432264514, -12.23571135)):
            Rectangle(SKETCH12_W, SKETCH12_H)
    extrude(amount=-CUT_EXTRUDE8_DEPTH, mode=Mode.SUBTRACT)

    # Sketch13 → Cut-Extrude9 (cut)
    with BuildSketch(Plane.XY.offset(3)):
        with Locations((19.092279678, -18.65)):
            Circle(SKETCH13_R)
        with Locations((2.066987996, -18.65)):
            Circle(SKETCH13_R)
    extrude(amount=-CUT_EXTRUDE9_DEPTH, mode=Mode.SUBTRACT)


solid = part.part
